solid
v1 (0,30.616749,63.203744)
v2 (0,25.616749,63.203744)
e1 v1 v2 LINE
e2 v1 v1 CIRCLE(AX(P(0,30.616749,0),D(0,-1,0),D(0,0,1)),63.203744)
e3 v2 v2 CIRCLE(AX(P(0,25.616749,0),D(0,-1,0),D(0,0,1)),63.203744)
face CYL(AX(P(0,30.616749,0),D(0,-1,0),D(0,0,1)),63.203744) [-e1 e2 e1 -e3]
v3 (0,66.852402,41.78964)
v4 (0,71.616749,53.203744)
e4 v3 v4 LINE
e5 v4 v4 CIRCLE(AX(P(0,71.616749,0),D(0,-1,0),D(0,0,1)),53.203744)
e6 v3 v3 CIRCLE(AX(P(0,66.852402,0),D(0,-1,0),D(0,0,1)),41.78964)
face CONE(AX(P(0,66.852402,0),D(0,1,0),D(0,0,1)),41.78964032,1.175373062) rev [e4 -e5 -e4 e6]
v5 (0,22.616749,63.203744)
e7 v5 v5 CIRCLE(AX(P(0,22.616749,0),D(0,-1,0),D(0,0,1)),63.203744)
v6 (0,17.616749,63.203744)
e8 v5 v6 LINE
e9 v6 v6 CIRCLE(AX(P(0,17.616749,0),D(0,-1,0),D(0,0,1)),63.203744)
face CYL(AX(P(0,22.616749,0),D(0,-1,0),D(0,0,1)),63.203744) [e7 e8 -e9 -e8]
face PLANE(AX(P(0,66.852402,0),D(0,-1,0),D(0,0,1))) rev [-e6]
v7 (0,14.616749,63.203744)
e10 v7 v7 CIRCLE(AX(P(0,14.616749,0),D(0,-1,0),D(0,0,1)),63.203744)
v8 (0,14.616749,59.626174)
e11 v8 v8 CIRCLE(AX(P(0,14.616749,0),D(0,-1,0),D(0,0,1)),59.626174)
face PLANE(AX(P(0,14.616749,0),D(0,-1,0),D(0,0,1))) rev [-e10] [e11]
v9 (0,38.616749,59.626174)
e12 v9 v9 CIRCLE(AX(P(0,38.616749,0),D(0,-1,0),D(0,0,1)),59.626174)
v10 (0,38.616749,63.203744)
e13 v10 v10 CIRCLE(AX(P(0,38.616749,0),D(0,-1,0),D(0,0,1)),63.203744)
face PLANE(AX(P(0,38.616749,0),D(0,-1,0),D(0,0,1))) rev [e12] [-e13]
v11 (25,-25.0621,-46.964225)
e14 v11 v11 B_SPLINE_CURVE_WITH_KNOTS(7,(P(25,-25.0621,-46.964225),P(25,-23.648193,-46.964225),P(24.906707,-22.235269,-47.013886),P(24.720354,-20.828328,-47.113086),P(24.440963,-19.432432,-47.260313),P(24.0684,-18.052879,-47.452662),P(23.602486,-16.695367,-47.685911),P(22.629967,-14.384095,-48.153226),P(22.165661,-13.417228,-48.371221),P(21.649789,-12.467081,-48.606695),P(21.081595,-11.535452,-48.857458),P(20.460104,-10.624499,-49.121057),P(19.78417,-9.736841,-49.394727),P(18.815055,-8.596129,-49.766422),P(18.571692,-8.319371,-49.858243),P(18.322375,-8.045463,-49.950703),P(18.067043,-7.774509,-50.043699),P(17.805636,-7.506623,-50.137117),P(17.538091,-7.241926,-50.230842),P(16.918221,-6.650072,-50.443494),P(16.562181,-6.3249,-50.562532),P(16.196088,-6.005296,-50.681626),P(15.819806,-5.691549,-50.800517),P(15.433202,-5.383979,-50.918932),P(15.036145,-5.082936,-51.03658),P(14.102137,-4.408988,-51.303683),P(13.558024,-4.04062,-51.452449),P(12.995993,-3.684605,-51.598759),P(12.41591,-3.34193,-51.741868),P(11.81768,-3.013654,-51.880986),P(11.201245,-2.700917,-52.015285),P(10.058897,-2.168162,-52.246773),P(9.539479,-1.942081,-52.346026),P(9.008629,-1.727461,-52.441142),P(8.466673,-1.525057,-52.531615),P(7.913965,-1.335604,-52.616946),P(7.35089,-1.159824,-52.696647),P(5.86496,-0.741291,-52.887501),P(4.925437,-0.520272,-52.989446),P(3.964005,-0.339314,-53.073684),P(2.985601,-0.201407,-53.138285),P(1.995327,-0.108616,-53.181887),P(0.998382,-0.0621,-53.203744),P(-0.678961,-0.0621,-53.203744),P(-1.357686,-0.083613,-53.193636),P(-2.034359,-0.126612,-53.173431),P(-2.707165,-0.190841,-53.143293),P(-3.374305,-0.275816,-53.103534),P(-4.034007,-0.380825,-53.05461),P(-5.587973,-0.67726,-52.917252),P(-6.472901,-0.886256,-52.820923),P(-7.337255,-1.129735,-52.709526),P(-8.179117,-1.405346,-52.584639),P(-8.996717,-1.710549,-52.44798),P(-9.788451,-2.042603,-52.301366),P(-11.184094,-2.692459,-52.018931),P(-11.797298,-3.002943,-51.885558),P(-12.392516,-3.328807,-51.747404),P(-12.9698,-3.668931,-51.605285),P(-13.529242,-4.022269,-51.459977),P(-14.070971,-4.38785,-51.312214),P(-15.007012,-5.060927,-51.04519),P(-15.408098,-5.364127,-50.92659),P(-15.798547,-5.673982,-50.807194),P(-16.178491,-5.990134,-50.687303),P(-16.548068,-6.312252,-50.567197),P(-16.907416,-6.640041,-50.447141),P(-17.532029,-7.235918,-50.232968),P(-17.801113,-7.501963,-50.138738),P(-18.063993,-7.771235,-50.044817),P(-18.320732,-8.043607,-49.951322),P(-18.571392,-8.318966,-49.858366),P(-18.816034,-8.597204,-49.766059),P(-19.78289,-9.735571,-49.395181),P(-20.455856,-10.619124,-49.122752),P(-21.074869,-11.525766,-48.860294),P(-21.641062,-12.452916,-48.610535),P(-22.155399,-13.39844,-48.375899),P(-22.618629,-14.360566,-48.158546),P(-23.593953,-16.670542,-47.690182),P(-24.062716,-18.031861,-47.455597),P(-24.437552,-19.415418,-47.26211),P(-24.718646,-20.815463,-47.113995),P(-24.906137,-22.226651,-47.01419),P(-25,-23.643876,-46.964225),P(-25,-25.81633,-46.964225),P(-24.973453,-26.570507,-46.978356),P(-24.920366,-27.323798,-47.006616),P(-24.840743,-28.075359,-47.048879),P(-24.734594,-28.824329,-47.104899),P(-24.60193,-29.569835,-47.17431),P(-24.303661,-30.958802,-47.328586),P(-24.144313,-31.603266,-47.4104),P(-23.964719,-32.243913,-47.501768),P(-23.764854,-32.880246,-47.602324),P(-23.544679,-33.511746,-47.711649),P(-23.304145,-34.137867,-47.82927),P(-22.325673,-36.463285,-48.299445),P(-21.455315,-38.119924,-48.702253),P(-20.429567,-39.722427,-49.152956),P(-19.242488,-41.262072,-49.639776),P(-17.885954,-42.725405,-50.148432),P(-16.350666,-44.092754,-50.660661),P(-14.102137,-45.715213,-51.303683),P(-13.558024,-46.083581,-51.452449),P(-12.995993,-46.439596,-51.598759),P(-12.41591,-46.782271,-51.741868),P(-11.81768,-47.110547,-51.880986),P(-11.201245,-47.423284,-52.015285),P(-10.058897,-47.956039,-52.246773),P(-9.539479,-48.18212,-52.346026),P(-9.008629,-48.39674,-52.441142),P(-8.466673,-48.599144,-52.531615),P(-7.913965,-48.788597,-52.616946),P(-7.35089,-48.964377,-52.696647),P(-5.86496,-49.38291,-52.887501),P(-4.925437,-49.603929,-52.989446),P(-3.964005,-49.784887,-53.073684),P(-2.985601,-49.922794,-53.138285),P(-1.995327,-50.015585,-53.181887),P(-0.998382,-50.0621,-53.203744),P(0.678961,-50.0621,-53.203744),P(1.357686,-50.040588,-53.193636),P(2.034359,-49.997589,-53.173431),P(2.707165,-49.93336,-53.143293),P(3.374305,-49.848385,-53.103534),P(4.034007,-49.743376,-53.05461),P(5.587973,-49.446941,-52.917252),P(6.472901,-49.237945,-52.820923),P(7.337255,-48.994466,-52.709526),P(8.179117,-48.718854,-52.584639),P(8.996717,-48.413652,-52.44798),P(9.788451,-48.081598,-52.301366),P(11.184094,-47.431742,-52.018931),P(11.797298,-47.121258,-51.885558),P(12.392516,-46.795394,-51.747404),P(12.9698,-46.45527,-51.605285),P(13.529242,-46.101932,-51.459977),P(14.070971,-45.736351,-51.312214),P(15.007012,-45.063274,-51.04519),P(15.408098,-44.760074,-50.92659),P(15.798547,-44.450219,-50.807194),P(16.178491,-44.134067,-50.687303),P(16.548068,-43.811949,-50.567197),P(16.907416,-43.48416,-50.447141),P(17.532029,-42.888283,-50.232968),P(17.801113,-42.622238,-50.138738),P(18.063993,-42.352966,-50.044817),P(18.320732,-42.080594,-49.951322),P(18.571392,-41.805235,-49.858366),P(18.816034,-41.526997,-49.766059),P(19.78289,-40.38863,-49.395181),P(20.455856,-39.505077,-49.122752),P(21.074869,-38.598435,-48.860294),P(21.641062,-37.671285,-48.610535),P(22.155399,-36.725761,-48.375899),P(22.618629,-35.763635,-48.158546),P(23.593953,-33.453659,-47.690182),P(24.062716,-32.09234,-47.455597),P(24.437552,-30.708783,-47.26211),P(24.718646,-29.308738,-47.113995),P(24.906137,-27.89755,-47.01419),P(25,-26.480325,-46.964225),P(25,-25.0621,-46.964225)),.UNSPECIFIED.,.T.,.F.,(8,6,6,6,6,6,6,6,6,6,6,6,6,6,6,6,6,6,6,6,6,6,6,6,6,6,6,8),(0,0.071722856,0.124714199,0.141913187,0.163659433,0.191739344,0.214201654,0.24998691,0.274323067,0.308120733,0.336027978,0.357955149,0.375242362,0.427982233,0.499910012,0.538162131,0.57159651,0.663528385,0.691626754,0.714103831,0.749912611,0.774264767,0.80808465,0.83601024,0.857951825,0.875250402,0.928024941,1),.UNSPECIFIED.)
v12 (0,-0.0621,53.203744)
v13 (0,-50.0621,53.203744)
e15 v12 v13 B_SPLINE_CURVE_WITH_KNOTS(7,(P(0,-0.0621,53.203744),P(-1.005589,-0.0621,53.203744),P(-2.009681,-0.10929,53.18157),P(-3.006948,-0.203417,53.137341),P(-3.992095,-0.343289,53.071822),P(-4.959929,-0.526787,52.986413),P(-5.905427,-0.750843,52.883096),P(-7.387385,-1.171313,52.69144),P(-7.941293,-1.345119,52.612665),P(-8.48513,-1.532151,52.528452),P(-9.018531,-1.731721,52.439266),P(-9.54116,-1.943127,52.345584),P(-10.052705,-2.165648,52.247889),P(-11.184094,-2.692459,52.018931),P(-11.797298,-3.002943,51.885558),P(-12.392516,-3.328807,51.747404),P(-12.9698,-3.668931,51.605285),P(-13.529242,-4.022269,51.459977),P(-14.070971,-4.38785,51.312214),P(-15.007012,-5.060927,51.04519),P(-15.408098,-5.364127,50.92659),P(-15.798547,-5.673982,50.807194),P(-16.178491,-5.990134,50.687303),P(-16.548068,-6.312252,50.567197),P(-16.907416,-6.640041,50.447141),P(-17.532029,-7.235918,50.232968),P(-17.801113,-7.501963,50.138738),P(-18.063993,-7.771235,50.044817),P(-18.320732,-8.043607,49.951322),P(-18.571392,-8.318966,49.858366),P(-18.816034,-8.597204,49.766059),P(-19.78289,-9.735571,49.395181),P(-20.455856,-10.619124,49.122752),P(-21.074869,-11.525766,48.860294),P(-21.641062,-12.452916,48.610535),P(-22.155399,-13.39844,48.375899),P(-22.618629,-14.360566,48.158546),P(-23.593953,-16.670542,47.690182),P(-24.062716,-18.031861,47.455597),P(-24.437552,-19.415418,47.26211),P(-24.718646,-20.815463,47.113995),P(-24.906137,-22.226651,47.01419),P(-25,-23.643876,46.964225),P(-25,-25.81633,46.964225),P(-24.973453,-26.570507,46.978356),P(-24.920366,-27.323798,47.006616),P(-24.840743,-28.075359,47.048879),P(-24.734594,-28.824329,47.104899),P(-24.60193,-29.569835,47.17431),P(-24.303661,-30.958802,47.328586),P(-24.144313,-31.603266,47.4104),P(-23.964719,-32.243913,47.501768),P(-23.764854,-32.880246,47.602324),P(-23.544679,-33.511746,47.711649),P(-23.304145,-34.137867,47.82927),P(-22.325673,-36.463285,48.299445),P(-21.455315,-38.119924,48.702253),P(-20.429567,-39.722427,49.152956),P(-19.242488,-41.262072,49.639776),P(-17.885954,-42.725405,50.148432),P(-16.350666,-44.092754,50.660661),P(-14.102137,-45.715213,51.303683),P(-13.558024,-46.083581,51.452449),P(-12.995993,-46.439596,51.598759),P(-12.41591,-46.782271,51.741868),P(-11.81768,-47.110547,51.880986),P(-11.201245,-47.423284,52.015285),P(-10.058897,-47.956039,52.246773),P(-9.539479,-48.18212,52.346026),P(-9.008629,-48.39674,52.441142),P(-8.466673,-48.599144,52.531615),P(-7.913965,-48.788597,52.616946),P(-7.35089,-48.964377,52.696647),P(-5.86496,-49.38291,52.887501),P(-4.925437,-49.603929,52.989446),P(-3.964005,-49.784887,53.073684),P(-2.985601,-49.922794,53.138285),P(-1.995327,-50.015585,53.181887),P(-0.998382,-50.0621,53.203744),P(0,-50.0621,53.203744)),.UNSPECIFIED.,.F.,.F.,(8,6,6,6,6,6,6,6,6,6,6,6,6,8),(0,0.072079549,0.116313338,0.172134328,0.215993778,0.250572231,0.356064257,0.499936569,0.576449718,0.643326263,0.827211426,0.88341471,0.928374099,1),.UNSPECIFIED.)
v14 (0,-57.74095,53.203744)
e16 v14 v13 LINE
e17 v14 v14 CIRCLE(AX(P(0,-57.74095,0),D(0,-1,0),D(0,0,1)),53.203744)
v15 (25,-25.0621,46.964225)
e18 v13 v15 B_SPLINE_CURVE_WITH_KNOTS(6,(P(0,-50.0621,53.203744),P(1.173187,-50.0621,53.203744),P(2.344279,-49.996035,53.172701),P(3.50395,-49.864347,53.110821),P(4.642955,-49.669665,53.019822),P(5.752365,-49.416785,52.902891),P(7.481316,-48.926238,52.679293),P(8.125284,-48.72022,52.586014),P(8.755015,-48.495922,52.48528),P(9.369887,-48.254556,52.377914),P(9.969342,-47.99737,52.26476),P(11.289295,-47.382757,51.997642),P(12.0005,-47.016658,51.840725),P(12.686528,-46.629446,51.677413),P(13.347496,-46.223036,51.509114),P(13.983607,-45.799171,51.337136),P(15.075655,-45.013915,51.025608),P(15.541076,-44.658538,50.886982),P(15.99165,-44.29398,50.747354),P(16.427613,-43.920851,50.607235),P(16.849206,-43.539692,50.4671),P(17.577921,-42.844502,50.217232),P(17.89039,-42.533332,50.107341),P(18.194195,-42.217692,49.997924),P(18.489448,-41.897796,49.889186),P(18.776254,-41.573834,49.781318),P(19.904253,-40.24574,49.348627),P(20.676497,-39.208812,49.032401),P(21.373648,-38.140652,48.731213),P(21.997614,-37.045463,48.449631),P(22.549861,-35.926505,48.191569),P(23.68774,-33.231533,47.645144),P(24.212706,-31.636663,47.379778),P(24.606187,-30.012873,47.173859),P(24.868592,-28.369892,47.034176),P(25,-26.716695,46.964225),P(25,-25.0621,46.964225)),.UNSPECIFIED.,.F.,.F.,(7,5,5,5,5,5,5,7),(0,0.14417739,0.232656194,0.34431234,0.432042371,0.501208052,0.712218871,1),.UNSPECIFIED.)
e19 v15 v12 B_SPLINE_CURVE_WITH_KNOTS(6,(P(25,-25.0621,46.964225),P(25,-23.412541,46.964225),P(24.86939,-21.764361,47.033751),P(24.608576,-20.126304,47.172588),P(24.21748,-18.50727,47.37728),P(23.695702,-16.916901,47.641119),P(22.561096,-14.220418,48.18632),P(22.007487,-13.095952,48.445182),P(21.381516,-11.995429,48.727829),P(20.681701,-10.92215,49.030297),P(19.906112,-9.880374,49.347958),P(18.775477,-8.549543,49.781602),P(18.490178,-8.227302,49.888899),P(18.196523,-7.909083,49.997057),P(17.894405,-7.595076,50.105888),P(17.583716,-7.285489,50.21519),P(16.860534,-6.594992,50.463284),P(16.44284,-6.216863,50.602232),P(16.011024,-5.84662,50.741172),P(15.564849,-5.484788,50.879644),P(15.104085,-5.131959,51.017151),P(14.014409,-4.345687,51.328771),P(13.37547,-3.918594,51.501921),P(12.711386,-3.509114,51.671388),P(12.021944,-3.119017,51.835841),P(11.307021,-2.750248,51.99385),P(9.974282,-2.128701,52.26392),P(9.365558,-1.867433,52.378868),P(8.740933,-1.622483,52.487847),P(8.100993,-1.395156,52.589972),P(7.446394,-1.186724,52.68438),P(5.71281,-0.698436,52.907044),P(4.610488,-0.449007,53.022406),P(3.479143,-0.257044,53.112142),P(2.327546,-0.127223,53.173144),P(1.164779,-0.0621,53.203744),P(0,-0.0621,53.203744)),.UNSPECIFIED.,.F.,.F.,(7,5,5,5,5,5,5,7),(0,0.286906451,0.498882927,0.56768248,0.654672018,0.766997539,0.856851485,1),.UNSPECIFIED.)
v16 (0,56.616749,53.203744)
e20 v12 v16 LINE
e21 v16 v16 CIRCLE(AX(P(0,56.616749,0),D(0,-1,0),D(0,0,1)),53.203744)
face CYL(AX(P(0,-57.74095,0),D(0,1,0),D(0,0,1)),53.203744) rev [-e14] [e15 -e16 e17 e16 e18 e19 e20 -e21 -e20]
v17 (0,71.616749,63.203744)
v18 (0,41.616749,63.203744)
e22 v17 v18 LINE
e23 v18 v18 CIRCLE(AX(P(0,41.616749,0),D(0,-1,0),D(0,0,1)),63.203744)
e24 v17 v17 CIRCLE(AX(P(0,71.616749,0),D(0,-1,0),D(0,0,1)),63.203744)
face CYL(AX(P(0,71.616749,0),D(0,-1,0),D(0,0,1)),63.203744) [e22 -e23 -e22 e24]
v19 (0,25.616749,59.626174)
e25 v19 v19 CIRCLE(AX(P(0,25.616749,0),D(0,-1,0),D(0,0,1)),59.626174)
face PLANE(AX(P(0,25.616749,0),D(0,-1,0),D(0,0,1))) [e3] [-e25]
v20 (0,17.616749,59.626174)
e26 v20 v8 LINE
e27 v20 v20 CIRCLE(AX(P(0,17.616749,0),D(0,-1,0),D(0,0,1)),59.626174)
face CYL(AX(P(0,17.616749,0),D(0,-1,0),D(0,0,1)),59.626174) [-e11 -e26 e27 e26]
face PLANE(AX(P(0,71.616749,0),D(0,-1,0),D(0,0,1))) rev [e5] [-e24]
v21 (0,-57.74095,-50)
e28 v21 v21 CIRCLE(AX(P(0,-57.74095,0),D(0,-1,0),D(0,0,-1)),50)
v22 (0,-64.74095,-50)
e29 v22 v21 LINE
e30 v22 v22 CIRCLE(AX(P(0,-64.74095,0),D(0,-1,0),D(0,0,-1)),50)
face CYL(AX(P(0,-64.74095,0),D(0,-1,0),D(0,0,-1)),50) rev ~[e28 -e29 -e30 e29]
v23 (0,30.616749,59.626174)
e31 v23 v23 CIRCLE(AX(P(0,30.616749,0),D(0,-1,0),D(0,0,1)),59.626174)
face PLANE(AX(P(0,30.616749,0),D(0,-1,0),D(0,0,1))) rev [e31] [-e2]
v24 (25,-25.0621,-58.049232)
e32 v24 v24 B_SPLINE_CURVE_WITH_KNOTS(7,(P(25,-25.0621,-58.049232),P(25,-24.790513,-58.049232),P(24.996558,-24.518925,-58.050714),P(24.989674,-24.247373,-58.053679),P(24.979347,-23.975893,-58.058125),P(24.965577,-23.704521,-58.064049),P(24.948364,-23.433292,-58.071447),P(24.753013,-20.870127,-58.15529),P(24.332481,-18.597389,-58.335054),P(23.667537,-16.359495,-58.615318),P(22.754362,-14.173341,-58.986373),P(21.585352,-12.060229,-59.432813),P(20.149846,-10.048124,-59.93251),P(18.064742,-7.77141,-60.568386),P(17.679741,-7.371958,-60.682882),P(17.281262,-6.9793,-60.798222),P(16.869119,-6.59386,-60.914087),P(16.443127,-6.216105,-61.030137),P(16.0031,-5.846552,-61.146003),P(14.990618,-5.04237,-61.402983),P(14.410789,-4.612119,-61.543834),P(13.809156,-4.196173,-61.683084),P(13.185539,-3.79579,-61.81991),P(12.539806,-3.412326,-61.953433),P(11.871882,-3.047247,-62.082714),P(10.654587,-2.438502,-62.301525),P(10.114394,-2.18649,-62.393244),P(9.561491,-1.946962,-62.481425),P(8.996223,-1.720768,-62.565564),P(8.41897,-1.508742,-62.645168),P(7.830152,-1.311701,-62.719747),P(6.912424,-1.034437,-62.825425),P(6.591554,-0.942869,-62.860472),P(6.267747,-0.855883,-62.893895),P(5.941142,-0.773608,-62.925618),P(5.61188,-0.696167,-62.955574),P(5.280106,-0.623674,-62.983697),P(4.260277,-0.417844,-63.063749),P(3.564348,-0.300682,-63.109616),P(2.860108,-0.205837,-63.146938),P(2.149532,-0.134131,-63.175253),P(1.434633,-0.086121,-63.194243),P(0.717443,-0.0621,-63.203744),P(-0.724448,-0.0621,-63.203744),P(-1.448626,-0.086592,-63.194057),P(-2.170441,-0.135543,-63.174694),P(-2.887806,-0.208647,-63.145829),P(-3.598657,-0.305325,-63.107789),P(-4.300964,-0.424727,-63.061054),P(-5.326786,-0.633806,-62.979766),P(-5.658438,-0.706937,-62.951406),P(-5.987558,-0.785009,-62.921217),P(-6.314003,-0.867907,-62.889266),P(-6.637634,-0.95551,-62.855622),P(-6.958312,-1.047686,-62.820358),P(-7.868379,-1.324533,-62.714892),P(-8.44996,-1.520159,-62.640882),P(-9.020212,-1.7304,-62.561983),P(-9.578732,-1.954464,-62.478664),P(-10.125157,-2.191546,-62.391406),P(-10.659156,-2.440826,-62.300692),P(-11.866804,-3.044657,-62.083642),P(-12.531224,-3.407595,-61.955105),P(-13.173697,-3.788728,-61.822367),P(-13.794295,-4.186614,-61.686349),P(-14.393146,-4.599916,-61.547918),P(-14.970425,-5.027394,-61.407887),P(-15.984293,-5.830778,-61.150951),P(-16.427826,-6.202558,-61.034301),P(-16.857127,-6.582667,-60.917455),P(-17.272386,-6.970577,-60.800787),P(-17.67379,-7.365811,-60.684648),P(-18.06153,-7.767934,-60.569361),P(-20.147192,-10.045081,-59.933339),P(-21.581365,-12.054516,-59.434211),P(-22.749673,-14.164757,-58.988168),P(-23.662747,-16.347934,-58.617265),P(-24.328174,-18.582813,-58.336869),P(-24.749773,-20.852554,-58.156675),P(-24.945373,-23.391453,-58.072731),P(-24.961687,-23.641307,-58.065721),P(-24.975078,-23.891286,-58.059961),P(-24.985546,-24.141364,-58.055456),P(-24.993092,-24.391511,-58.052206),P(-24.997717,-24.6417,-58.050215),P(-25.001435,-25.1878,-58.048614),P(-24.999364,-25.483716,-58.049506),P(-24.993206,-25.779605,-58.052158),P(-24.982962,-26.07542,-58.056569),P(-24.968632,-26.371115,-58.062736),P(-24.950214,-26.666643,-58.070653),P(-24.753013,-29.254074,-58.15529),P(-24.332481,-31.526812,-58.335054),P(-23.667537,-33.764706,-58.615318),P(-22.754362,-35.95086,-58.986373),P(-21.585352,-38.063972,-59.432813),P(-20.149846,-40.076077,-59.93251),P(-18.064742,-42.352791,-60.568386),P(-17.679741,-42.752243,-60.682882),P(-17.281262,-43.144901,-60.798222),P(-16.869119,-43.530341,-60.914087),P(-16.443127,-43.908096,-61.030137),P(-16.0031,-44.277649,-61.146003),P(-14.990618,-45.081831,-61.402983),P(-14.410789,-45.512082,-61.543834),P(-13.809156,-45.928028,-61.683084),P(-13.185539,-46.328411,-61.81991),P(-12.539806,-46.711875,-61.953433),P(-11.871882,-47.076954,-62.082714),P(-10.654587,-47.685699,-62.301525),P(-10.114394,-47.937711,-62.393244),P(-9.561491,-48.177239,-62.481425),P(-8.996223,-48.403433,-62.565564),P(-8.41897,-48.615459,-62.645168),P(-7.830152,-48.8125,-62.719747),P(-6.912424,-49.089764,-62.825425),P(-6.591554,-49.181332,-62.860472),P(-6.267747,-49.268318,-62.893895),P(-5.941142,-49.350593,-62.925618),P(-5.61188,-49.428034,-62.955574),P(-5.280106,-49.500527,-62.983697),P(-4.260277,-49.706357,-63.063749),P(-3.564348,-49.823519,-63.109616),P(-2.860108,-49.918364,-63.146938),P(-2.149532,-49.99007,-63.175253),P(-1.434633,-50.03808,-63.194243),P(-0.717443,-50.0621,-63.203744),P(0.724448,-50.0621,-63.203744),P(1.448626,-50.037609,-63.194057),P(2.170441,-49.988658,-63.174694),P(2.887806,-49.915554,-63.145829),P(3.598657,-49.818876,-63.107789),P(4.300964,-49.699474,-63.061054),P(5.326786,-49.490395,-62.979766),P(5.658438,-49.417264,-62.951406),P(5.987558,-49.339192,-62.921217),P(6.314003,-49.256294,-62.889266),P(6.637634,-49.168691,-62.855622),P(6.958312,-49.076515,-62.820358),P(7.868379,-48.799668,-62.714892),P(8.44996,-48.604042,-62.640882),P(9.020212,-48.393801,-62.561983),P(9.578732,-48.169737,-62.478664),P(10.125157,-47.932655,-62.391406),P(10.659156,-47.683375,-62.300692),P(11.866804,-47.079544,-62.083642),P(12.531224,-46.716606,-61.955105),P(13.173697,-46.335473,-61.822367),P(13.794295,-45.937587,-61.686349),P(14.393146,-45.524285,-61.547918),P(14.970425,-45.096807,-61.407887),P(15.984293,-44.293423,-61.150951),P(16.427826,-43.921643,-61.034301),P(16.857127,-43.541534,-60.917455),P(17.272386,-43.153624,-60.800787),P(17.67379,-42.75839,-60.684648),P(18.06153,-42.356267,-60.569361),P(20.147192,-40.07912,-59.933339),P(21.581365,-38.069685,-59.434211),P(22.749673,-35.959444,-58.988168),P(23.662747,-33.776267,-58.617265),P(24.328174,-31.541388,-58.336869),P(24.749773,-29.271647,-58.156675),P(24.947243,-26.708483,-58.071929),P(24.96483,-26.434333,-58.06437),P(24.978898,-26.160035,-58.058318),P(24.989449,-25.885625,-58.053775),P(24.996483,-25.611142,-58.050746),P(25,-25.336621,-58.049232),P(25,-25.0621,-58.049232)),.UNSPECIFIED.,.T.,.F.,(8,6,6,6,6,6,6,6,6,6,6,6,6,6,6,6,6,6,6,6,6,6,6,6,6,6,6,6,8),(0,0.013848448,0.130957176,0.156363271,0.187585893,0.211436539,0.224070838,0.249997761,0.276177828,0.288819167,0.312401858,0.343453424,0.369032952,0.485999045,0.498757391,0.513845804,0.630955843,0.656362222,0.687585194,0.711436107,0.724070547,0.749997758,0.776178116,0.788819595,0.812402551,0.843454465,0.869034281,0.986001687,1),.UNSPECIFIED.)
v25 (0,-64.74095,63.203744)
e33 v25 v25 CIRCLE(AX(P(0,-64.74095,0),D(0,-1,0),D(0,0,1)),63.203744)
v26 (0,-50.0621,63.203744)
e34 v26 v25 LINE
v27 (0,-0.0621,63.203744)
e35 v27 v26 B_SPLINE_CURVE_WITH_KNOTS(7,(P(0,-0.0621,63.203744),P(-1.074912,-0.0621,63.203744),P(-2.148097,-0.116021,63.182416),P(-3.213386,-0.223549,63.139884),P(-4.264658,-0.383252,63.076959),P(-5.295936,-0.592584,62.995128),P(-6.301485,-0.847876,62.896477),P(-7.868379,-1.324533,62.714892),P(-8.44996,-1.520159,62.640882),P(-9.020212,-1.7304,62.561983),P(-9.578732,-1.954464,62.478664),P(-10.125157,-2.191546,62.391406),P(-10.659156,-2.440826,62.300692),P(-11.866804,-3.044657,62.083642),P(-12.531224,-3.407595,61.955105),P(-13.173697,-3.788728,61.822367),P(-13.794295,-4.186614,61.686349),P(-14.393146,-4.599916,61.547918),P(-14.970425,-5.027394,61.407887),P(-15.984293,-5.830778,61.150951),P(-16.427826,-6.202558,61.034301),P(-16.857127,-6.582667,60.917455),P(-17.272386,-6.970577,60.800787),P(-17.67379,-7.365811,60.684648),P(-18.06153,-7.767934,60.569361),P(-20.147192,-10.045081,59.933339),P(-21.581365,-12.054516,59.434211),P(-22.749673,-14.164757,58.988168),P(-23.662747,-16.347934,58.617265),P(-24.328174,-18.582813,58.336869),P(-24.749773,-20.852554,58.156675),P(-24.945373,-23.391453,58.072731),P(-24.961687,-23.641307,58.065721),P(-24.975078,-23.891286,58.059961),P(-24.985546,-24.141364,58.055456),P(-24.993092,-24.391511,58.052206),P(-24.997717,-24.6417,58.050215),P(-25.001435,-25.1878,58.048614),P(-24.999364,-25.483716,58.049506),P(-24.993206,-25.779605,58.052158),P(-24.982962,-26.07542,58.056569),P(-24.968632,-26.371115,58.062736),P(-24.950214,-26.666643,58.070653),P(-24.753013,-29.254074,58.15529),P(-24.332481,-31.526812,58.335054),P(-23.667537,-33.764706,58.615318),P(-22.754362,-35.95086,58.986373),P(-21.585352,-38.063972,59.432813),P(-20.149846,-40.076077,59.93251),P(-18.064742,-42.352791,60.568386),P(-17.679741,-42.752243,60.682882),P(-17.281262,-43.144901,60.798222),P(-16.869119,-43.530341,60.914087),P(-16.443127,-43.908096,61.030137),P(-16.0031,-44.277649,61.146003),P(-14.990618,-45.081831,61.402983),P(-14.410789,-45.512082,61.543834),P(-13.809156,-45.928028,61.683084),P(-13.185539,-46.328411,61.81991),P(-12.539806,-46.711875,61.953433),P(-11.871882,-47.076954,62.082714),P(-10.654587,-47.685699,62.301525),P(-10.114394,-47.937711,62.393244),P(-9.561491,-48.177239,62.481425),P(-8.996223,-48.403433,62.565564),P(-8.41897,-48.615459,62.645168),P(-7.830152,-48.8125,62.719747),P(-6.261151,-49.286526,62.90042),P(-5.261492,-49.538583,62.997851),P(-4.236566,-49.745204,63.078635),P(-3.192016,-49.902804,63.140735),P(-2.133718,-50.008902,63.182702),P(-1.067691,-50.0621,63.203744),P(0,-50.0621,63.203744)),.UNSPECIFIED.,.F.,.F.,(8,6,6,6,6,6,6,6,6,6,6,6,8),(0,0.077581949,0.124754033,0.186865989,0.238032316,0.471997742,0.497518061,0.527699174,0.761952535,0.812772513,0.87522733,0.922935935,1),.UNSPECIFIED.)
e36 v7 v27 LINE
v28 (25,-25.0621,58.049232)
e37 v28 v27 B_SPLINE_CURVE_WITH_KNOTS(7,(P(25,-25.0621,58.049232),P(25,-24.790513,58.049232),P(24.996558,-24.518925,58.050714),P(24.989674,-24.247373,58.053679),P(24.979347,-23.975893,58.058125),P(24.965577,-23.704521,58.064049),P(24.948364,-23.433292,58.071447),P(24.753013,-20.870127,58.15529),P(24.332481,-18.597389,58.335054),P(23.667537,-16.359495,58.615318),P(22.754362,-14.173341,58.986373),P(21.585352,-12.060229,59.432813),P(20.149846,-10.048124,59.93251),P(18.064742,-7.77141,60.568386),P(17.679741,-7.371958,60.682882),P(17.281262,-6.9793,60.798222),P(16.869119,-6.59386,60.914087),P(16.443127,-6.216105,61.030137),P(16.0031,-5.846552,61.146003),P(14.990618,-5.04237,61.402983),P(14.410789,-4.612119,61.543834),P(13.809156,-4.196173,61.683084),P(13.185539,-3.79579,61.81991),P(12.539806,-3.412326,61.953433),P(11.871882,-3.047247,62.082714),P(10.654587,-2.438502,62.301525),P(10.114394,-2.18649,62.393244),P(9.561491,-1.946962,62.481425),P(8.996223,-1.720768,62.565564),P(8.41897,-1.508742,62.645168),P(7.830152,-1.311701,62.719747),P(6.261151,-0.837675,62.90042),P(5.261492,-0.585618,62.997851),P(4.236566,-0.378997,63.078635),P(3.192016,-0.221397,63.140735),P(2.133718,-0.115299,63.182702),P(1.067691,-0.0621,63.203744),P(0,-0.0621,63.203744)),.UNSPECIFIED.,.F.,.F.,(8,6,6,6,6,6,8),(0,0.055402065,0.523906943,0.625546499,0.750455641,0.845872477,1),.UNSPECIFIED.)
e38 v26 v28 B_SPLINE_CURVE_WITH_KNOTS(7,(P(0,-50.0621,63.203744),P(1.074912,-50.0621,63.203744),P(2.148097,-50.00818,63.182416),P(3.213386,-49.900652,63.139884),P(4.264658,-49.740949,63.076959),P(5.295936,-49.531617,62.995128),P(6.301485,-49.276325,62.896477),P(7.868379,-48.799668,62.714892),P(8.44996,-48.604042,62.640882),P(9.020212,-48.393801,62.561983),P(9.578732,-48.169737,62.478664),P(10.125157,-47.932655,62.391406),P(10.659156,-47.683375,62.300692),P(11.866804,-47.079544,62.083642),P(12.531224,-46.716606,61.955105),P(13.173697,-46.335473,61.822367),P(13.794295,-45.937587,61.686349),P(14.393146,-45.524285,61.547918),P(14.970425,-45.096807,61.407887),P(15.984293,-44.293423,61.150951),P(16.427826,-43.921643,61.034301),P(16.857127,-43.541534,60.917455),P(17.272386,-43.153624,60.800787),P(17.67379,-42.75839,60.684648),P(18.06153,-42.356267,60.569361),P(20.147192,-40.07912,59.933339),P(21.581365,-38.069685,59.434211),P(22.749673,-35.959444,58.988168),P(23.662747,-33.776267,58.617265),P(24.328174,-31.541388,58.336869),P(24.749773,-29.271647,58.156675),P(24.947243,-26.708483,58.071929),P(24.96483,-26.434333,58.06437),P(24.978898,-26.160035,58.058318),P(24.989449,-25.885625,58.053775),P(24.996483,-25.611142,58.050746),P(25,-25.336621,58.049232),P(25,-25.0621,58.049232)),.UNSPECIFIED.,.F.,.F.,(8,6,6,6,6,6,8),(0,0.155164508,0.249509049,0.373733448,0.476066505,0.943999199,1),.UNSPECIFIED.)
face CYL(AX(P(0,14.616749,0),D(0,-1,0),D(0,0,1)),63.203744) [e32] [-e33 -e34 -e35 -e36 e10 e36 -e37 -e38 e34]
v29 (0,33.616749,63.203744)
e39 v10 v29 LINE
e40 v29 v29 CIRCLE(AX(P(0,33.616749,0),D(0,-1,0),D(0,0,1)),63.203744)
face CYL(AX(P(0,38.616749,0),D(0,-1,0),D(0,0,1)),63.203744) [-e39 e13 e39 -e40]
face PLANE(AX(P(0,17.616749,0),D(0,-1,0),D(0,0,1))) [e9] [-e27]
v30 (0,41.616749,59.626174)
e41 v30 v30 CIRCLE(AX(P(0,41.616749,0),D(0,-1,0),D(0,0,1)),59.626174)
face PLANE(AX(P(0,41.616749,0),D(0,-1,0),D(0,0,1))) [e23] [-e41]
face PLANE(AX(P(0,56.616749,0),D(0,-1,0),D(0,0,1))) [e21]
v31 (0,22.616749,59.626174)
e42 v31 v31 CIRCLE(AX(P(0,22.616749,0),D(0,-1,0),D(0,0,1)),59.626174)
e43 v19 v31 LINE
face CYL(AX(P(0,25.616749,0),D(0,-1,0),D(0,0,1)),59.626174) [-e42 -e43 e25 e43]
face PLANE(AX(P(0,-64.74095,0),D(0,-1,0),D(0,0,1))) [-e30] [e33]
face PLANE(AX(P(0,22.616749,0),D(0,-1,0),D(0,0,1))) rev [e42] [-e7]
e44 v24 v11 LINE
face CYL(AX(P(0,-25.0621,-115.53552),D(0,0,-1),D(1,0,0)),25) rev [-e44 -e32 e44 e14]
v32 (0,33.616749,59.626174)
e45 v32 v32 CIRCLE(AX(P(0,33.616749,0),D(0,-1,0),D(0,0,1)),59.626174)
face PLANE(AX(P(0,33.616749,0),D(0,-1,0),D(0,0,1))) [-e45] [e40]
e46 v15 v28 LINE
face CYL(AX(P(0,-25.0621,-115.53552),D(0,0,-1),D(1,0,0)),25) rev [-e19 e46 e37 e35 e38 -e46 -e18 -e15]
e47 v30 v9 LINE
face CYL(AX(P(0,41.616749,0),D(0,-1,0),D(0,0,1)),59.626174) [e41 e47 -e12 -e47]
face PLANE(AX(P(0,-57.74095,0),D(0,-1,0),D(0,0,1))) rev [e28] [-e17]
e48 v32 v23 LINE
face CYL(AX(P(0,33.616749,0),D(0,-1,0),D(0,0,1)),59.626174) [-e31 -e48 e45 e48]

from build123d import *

# Parameters (mm, degrees)
CUT_EXTRUDE2_DEPTH      = 115.535519609
CUT_EXTRUDE2_DEPTH_BACK = 115.535519609
SKETCH2_R               = 25
SKETCH3_R               = 50
CUT_EXTRUDE4_DEPTH      = 11


with BuildPart() as part:
    # Sketch1 → Revolve1 (revolve)
    with BuildSketch(Plane.XY, mode=Mode.PRIVATE) as revolve1_sk:
        Polygon((-63.203744258, 71.61674857), (-63.203744258, 41.61674857), (-59.626173828, 41.61674857), (-59.626173828, 38.61674857), (-63.203744258, 38.61674857), (-63.203744258, 33.61674857), (-59.626173828, 33.61674857), (-59.626173828, 30.61674857), (-63.203744258, 30.61674857), (-63.203744258, 25.61674857), (-59.626173828, 25.61674857), (-59.626173828, 22.61674857), (-63.203744258, 22.61674857), (-63.203744258, 17.61674857), (-59.626173828, 17.61674857), (-59.626173828, 14.61674857), (-63.203744258, 14.61674857), (-63.203744258, -64.740949558), (0, -64.740949558), (0, -57.740949558), (-53.203744258, -57.740949558), (-53.203744258, 56.61674857), (0, 56.61674857), (0, 66.852401658), (-41.78964032, 66.852401658), (-53.203744258, 71.61674857), align=None)
    revolve(revolve1_sk.sketch.rotate(Axis((0, 112.693468535, 0), (0, -1, 0)), 270), axis=Axis((0, 112.693468535, 0), (0, -1, 0)))

    # Sketch2 → Cut-Extrude2 (cut, two sides: drawn at the far end of the back side and taken through both)
    with BuildSketch(Plane.XY.offset(-CUT_EXTRUDE2_DEPTH_BACK)):
        with Locations((0, -25.062100494)):
            Circle(SKETCH2_R)
    extrude(amount=CUT_EXTRUDE2_DEPTH + CUT_EXTRUDE2_DEPTH_BACK, mode=Mode.SUBTRACT)

    # Sketch3 → Cut-Extrude4 (cut)
    with BuildSketch(Plane.XZ.offset(64.740949558)):
        with Locations(Location((0, 0, 0), (0, 0, 270))):
            Circle(SKETCH3_R)
    extrude(amount=-CUT_EXTRUDE4_DEPTH, mode=Mode.SUBTRACT)


solid = part.part
